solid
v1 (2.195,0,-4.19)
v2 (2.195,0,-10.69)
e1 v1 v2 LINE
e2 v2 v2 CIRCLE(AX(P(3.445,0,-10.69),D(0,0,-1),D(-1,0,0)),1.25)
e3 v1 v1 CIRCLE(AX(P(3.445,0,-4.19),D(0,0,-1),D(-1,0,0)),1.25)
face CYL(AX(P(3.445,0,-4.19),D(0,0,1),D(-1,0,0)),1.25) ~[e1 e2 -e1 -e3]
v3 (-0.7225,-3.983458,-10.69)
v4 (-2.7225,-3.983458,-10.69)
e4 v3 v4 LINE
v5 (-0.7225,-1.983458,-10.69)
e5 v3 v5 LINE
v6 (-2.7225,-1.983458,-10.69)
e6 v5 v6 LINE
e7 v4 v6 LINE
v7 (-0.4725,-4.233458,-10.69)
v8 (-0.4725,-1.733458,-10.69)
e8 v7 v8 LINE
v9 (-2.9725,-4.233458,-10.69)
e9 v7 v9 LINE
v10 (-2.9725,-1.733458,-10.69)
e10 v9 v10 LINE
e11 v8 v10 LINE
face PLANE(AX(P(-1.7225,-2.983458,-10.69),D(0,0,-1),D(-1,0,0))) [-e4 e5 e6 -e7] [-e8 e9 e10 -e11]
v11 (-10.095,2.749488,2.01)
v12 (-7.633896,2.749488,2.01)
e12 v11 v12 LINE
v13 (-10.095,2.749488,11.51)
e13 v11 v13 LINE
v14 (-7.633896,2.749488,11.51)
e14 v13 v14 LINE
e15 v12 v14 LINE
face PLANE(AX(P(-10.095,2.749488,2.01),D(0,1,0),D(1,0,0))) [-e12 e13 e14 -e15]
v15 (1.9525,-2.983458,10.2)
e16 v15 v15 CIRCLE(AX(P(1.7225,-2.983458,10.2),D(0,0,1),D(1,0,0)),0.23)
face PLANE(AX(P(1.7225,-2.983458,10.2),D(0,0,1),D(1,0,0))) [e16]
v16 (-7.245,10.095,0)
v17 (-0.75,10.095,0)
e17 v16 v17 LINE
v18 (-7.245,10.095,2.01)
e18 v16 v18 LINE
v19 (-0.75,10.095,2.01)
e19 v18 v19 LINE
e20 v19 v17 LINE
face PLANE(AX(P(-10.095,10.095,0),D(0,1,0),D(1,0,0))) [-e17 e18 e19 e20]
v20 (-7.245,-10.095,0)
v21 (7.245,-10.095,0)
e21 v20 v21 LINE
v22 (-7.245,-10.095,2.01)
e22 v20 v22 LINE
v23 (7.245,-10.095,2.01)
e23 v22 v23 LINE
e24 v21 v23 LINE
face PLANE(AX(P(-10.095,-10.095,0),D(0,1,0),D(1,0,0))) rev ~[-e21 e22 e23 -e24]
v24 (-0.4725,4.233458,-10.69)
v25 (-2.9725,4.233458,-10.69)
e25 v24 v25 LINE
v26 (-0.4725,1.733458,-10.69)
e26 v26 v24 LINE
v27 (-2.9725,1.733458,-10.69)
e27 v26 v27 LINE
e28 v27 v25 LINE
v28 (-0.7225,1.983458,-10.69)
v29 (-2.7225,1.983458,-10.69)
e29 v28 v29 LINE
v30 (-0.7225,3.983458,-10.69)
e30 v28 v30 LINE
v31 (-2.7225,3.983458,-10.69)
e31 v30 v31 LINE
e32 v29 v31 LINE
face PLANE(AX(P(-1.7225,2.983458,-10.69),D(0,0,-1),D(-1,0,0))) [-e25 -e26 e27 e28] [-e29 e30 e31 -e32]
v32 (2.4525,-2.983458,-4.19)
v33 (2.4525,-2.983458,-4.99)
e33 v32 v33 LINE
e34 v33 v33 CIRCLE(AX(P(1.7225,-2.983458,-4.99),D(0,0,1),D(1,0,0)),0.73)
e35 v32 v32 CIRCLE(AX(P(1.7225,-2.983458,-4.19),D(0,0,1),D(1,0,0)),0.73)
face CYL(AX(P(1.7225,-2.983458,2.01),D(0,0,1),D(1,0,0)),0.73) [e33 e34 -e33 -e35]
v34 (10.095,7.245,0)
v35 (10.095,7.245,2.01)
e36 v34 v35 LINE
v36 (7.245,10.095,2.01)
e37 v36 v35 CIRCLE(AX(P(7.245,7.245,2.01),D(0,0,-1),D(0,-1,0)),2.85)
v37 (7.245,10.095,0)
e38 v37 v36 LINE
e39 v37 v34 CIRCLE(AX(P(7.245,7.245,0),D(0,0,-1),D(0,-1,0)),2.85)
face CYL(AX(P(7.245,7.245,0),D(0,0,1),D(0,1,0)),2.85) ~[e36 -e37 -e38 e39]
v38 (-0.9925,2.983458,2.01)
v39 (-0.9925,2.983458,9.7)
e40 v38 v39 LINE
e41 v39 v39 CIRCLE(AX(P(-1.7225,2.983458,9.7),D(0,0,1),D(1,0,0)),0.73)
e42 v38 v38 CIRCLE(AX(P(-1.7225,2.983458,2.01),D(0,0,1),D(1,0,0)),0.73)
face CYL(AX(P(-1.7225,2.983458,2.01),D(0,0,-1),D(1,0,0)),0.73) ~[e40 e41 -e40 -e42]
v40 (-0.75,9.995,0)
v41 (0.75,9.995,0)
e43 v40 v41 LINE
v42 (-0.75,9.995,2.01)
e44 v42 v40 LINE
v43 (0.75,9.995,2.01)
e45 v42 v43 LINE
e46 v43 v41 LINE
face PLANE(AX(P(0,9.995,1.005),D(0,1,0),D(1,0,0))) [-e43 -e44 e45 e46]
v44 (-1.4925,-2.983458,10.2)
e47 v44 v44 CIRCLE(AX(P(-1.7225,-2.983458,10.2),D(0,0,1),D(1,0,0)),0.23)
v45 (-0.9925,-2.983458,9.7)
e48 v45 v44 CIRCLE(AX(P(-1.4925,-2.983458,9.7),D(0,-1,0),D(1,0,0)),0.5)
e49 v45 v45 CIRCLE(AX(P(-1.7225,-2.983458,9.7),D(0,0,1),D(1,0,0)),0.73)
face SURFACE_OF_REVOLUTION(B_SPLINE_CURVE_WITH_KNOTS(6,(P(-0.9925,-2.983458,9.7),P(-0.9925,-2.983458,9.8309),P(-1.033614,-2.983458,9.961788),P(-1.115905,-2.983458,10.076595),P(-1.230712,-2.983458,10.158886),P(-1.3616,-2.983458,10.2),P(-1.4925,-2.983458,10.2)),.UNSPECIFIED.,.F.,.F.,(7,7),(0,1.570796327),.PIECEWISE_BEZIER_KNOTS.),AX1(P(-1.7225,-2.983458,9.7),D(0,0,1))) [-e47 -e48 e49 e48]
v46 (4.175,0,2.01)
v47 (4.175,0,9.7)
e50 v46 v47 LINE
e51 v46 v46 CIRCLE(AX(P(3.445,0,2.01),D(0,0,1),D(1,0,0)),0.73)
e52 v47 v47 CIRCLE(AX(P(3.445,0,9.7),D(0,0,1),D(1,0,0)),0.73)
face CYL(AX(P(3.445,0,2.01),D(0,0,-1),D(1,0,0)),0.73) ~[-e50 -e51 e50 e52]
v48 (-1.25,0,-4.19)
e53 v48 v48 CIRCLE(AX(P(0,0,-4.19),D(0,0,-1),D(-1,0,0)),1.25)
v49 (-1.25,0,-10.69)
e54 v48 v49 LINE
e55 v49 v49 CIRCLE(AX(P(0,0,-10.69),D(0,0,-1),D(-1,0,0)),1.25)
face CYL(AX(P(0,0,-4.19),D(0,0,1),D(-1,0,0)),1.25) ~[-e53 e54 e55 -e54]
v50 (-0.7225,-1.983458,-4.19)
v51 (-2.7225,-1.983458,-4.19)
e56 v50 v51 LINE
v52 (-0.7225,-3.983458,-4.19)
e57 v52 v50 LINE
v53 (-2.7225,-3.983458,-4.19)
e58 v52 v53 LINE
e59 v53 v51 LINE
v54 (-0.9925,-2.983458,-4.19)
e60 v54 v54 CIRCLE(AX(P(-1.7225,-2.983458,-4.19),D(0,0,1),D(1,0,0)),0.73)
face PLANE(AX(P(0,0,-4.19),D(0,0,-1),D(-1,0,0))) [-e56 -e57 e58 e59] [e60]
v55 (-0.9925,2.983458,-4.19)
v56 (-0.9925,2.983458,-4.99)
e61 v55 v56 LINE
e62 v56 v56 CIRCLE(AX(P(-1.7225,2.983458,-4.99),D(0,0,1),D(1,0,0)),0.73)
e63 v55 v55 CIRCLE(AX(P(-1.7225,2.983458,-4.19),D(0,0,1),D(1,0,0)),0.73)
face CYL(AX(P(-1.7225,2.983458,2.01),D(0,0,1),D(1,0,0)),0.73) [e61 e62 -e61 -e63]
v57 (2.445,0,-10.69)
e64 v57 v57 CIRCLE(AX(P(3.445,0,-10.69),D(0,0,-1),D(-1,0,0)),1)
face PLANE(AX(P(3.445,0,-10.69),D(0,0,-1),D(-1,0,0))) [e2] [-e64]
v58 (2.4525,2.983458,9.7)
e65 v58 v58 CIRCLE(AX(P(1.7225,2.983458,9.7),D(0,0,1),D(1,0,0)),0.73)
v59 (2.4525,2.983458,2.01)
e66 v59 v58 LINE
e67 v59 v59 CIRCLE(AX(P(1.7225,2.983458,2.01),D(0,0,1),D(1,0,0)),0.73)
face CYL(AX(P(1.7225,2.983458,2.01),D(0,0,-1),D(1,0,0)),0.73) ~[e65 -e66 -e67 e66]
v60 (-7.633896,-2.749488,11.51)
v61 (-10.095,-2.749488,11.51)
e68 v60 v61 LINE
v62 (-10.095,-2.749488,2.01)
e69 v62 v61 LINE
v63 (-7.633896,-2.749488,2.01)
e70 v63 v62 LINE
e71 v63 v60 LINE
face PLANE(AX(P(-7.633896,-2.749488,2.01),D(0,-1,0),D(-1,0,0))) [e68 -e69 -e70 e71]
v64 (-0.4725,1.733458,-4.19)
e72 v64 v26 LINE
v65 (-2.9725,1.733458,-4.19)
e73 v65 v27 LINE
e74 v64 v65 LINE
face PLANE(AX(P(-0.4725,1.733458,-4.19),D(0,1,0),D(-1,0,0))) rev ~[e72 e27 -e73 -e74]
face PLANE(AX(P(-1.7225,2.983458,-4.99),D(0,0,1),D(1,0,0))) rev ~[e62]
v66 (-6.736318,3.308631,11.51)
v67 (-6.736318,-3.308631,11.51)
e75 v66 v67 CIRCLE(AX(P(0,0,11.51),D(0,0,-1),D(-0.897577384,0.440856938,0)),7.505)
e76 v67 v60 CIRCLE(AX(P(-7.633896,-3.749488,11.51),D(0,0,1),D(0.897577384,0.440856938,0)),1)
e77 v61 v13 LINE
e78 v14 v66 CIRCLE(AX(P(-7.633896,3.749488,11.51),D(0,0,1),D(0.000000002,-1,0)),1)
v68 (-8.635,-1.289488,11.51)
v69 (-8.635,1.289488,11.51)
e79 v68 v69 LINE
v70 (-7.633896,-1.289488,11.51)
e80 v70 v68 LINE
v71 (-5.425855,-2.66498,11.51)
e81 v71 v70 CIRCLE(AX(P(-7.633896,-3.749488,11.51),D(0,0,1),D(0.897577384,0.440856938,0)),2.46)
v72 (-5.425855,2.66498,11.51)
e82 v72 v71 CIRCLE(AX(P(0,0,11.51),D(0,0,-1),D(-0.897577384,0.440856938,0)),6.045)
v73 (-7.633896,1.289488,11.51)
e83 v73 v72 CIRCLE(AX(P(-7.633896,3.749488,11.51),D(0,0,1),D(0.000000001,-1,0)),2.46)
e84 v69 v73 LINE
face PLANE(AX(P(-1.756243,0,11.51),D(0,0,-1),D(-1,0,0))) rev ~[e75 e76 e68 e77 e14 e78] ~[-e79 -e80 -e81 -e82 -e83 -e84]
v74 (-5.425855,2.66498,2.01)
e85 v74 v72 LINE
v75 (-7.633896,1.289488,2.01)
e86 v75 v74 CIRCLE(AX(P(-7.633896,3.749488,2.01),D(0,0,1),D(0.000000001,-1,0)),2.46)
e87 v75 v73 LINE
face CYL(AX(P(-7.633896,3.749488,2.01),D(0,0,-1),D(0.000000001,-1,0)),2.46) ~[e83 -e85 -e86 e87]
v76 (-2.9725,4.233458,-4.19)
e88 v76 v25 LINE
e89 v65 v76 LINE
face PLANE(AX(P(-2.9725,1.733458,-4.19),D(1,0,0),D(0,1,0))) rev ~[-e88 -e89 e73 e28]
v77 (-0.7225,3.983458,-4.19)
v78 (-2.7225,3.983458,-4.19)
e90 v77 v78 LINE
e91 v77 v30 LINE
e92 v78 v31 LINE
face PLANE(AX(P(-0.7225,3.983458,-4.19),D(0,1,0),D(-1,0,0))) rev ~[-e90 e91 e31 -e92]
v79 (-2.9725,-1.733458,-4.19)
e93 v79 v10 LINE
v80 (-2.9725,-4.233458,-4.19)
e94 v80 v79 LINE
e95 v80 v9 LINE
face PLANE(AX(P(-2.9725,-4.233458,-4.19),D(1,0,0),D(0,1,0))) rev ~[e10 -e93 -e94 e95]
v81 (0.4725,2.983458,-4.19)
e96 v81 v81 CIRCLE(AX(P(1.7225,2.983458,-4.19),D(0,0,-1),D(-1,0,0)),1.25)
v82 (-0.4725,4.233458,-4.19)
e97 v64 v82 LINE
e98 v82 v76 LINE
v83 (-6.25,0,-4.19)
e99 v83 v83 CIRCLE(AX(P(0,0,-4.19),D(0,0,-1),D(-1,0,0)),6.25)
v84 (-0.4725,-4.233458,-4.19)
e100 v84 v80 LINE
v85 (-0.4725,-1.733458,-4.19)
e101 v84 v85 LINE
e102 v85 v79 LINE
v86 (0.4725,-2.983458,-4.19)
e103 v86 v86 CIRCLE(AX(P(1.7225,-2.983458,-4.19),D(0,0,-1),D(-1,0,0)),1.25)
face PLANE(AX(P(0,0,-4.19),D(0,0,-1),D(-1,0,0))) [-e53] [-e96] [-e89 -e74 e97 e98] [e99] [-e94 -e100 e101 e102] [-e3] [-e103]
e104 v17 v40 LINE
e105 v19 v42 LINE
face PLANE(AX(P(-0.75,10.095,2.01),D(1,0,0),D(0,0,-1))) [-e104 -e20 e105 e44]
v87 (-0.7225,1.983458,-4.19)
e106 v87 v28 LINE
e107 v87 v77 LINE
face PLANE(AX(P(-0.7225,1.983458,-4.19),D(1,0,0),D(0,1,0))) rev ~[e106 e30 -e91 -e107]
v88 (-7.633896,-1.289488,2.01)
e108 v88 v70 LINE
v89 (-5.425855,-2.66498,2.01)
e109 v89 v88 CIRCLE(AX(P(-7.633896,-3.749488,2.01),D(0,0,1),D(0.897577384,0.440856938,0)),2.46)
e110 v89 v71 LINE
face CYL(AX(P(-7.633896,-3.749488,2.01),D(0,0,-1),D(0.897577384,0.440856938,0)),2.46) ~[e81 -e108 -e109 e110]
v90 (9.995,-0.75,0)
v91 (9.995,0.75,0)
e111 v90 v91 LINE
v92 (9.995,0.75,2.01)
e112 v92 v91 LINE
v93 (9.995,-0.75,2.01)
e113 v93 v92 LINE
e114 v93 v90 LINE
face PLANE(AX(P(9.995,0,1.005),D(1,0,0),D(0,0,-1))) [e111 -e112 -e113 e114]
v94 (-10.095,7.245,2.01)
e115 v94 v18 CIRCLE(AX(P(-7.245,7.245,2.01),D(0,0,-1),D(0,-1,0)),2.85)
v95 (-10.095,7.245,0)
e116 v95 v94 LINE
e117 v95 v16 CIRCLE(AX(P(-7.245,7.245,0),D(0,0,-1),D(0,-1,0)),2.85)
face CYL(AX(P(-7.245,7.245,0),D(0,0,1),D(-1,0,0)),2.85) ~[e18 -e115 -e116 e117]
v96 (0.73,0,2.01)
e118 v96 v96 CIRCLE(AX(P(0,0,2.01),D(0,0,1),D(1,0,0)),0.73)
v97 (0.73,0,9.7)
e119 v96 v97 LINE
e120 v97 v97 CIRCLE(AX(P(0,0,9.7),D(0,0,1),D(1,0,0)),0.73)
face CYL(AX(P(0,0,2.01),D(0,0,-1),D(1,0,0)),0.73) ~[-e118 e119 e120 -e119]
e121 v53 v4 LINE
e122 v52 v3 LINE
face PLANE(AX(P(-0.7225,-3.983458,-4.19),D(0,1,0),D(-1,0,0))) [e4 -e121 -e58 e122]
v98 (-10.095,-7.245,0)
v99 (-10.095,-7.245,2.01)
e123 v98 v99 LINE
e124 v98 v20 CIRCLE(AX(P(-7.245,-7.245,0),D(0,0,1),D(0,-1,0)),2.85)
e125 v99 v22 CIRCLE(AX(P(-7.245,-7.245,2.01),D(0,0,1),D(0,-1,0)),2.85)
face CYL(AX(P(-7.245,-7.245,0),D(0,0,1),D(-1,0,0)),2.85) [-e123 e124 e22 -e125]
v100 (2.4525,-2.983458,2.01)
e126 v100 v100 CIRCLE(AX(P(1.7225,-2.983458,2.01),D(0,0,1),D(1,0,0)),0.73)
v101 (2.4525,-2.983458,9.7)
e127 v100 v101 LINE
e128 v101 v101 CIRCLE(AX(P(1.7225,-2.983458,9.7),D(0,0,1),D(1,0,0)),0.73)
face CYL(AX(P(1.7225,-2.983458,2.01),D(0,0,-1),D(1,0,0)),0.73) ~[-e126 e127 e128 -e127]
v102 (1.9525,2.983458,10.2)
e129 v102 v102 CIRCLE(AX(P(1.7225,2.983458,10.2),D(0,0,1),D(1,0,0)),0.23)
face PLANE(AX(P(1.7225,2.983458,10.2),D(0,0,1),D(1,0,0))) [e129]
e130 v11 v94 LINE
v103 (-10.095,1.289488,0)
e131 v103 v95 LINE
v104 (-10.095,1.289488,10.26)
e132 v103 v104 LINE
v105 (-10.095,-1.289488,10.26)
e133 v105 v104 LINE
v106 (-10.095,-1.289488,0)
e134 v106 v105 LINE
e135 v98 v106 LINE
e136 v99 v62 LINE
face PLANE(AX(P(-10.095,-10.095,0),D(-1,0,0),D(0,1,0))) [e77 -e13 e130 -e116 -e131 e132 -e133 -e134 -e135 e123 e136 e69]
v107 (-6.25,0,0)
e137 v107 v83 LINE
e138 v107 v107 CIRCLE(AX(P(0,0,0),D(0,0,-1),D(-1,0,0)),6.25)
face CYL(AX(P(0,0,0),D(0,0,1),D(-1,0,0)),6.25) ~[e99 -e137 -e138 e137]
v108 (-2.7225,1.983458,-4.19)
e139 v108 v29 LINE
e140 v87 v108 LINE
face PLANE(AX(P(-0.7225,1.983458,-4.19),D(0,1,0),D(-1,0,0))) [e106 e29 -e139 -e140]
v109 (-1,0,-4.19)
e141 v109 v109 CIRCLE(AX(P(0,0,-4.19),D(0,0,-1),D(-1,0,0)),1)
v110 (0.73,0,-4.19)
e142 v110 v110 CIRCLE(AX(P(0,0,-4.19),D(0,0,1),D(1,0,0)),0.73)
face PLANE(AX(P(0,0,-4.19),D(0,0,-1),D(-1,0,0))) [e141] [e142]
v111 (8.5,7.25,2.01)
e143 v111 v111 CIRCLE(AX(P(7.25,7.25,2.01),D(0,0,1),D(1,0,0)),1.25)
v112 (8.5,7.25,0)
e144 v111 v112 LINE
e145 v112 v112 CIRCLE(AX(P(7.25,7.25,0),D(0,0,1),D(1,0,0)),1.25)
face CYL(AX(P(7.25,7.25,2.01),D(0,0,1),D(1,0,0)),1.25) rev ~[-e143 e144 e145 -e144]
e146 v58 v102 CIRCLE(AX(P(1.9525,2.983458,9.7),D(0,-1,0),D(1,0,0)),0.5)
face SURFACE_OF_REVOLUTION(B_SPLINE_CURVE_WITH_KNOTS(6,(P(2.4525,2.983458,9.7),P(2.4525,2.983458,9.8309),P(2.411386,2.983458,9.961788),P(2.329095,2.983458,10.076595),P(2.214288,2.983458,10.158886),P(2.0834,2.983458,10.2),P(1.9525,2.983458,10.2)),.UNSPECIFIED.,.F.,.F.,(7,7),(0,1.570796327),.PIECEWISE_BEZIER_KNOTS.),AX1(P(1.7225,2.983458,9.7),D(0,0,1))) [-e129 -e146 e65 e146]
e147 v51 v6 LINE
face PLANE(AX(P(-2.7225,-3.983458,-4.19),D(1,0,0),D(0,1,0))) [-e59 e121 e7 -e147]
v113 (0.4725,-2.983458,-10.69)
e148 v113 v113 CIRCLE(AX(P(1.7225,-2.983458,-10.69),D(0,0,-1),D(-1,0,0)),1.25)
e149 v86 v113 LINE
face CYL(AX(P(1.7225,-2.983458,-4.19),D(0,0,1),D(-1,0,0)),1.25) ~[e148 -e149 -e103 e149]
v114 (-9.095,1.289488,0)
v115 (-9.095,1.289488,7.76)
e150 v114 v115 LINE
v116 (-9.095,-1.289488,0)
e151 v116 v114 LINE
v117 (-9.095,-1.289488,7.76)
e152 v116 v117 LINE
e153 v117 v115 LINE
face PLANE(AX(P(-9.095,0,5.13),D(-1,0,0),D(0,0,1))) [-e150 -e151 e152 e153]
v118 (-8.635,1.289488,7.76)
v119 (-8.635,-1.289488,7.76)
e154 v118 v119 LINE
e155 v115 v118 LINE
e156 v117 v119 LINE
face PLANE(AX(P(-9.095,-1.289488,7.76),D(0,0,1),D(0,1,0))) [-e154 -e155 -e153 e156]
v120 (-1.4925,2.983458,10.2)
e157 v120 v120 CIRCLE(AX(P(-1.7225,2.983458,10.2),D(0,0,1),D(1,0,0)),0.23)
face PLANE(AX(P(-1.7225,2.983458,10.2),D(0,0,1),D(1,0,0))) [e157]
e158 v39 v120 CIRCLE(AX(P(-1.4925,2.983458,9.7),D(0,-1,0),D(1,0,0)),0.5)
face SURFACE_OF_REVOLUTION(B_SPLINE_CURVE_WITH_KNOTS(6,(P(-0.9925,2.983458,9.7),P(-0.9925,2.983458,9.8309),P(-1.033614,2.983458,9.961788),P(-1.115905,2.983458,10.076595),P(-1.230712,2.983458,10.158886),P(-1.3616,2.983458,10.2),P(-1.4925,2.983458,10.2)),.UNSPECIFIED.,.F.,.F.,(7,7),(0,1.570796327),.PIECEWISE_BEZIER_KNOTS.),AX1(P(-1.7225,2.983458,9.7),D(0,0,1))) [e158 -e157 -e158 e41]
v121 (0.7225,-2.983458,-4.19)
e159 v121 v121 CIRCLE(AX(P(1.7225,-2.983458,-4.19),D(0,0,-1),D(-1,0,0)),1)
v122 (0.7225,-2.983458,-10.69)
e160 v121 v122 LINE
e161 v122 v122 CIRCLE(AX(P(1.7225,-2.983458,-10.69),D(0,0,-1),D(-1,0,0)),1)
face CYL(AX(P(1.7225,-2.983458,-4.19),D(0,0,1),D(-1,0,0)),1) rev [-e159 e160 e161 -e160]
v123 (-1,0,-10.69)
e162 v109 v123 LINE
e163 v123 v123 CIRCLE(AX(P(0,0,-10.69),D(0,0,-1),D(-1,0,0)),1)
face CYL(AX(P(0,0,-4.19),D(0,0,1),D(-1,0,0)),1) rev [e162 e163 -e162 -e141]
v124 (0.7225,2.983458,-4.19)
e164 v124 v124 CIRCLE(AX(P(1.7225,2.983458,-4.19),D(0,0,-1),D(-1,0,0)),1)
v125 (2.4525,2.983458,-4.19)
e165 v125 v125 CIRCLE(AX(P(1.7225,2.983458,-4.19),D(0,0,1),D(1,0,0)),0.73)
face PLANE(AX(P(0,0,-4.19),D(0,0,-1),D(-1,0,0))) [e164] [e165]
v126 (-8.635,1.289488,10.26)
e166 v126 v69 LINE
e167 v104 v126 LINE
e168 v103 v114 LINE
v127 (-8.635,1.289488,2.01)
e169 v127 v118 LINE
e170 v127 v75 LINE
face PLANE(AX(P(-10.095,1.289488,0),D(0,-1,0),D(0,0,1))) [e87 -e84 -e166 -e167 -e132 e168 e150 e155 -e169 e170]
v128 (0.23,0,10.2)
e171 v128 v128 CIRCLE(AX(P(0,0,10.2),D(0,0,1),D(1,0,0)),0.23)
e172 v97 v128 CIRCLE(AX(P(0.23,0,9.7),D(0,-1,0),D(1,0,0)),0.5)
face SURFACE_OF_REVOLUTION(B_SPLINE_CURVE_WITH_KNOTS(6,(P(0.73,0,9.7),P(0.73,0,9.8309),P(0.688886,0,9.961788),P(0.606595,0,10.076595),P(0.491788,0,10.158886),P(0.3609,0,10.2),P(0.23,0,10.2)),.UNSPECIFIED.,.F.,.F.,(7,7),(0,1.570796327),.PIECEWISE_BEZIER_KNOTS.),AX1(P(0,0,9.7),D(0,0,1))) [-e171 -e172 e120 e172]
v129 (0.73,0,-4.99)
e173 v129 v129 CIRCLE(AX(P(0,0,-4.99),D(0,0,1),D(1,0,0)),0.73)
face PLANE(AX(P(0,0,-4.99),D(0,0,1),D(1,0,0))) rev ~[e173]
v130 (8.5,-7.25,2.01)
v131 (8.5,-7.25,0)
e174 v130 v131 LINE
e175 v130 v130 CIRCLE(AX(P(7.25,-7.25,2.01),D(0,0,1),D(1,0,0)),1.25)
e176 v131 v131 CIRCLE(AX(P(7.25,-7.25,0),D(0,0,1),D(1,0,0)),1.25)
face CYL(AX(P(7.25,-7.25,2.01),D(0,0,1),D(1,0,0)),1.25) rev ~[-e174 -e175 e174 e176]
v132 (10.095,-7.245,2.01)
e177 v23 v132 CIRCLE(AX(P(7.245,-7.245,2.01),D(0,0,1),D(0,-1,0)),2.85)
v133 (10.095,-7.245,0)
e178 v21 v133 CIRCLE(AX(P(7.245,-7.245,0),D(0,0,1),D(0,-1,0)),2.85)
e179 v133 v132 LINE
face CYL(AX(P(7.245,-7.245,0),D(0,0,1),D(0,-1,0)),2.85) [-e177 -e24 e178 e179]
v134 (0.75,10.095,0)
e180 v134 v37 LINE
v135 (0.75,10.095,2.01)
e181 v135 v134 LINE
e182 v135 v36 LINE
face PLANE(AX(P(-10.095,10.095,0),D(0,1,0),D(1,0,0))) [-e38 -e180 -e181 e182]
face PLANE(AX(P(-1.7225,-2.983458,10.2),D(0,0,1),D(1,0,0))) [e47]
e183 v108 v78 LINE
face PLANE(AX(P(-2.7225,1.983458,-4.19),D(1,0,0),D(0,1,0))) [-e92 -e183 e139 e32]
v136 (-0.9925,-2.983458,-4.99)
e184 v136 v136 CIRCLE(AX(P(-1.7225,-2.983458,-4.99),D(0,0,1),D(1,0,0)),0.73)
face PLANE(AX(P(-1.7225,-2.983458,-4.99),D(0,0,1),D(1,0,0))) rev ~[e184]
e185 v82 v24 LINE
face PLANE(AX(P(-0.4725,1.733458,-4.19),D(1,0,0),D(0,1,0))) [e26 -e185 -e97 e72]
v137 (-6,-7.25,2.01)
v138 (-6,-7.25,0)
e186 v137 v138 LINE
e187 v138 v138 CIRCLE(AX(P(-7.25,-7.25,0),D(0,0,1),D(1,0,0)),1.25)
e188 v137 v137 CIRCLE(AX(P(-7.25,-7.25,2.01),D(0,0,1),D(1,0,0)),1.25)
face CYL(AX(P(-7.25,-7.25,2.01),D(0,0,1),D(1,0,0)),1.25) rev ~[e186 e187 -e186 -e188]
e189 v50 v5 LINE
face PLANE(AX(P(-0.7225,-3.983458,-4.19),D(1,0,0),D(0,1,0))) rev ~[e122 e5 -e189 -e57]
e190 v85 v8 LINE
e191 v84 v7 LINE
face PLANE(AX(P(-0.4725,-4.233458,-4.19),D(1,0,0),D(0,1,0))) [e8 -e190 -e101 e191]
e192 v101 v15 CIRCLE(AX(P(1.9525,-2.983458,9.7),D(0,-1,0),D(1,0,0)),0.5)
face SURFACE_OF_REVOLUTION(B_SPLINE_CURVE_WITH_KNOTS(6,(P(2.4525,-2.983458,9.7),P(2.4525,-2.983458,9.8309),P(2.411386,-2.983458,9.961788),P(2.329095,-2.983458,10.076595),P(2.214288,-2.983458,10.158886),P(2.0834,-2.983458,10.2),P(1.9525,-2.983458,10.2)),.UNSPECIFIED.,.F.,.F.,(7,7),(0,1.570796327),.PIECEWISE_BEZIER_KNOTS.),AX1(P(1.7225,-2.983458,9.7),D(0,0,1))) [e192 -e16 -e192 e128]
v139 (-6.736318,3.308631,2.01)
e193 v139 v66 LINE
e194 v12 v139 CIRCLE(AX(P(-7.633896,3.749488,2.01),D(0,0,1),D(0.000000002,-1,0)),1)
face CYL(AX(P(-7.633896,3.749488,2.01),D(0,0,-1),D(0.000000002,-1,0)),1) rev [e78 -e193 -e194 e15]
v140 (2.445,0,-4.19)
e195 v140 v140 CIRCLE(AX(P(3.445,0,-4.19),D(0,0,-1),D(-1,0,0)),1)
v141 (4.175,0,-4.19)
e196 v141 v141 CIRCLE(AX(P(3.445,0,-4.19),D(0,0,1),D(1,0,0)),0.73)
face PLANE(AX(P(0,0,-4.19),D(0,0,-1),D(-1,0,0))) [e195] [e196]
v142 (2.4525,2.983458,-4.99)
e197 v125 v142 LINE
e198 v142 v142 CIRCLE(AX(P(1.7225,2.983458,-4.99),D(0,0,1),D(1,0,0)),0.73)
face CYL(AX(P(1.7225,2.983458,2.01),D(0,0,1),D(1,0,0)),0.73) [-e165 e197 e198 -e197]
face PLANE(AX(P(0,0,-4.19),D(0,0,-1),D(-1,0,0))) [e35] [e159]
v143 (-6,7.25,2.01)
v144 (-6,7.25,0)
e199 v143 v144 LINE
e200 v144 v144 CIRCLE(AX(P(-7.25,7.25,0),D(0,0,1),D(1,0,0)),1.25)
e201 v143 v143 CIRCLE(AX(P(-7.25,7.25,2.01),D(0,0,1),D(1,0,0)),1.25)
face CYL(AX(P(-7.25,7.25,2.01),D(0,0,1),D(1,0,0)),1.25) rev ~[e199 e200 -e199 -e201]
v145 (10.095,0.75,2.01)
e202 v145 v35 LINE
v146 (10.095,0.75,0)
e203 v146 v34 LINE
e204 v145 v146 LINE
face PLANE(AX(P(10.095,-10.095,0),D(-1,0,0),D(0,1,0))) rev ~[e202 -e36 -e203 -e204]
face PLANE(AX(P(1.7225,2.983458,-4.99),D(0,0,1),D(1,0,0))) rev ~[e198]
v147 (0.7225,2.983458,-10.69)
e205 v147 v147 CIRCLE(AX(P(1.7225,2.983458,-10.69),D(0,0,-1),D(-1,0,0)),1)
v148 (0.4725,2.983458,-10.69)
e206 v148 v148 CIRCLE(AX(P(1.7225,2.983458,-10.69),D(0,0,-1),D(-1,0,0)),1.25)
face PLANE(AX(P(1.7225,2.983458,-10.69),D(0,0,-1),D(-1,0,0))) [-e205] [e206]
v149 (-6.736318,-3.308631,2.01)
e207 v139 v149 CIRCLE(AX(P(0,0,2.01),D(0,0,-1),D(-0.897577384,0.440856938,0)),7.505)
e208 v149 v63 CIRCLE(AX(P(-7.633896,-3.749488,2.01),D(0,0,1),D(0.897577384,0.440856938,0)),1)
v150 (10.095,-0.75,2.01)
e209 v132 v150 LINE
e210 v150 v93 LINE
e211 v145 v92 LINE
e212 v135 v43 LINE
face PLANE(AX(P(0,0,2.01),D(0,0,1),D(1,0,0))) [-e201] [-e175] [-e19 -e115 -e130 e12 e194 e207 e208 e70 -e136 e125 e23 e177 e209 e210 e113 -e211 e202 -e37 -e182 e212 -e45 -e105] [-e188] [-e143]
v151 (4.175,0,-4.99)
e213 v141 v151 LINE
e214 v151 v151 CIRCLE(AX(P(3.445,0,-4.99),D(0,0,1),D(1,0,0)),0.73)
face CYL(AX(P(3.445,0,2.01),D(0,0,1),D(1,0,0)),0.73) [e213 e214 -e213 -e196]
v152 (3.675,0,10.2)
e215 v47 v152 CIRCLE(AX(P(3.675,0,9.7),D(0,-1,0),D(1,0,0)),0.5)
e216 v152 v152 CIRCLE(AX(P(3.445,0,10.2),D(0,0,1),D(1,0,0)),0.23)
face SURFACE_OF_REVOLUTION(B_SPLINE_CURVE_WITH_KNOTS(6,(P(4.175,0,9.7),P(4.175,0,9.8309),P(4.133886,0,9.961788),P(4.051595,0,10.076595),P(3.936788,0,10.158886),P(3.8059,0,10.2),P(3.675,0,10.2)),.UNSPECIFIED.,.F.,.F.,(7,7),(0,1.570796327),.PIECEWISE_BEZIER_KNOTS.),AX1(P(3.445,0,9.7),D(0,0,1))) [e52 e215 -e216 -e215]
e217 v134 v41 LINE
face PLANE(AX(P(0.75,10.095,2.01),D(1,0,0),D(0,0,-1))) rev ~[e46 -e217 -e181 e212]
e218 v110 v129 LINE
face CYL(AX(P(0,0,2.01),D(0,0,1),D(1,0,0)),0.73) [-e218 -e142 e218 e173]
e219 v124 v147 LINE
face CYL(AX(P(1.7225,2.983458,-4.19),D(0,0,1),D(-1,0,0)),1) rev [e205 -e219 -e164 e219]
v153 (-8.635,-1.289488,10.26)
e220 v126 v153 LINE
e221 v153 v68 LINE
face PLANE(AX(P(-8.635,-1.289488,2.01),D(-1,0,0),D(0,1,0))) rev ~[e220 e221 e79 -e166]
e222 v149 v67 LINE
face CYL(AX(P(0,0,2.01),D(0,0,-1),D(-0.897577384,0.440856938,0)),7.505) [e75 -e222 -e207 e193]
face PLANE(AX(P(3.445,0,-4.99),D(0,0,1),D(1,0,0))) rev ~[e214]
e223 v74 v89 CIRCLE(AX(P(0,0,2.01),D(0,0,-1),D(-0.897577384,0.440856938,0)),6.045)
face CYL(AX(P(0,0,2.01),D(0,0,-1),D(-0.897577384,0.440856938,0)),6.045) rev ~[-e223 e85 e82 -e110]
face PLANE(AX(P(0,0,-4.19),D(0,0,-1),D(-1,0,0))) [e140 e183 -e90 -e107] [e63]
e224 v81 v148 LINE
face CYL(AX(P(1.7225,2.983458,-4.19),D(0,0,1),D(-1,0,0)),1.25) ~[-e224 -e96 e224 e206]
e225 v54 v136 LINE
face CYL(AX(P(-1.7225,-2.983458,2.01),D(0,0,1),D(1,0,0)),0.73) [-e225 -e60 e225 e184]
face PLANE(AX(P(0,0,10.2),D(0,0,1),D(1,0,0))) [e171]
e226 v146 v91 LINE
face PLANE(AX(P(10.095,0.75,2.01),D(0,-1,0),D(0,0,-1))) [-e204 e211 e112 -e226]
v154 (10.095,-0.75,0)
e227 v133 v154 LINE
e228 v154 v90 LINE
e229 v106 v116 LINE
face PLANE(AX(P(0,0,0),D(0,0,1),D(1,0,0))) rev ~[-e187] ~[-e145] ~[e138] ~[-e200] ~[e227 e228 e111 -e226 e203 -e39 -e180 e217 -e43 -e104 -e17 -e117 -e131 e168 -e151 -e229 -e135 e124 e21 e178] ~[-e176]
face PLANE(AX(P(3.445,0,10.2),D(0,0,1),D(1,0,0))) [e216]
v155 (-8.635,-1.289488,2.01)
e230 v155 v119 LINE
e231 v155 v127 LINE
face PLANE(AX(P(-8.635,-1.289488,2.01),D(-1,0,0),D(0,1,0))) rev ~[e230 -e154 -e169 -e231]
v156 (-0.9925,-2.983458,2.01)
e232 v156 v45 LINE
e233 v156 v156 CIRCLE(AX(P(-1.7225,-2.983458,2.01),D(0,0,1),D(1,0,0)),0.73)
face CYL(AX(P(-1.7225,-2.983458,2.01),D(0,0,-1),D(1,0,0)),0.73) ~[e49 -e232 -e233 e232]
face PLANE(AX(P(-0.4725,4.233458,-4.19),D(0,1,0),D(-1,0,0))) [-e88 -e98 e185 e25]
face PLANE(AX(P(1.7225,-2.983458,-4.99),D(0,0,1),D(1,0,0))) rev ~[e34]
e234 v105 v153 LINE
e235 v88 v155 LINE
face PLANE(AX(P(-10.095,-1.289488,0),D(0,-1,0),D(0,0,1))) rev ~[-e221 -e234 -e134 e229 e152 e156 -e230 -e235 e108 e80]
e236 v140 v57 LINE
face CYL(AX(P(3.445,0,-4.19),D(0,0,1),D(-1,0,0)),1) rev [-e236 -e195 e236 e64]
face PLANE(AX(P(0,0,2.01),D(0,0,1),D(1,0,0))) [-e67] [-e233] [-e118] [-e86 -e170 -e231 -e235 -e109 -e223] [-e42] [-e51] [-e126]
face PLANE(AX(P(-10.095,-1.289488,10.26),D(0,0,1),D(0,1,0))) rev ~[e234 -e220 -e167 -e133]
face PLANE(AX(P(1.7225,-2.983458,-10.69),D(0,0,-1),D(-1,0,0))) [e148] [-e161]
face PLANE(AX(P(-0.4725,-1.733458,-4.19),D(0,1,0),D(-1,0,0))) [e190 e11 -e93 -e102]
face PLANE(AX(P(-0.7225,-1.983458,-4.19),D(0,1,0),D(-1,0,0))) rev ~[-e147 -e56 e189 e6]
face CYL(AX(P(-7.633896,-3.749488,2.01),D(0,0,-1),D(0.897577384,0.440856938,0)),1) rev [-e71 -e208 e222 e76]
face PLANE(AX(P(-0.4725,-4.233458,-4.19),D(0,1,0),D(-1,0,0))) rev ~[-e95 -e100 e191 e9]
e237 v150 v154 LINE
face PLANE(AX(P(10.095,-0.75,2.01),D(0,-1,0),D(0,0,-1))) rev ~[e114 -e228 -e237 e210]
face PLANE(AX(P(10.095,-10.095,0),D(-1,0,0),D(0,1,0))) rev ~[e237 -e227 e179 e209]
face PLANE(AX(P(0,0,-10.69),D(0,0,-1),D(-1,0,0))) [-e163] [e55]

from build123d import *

# Parameters (mm, degrees)
SKETCH1_W                = 20.19
SKETCH1_H                = 20.19
BOSS_EXTRUDE1_DEPTH      = 2.01
SKETCH2_R                = 1.25
CUT_EXTRUDE1_DEPTH       = 2.01
FILLET1_R                = 2.85
BOSS_EXTRUDE2_DEPTH      = 9.5
SKETCH5_W                = 10.26
SKETCH5_H                = 2.578976508
CUT_EXTRUDE2_DEPTH       = 1
CUT_EXTRUDE3_REACH       = 21.19
SKETCH6_W                = 2.5
SKETCH6_H                = 2.578976508
SKETCH7_R                = 6.25
BOSS_EXTRUDE3_DEPTH      = 4.19
SKETCH8_R                = 0.73
BOSS_EXTRUDE4_DEPTH      = 8.19
BOSS_EXTRUDE4_DEPTH_BACK = 7
FILLET2_R                = 0.5
SKETCH9_R                = 1.25
SKETCH9_R_2              = 1
SKETCH9_W                = 2.5
SKETCH9_H                = 2.5
SKETCH9_W_2              = 2
SKETCH9_H_2              = 2
EXTRUDE_THIN1_DEPTH      = 6.5
SKETCH10_W               = 1.5
SKETCH10_H               = 2.01
CUT_EXTRUDE4_DEPTH       = 0.1
SKETCH12_W               = 2.01
SKETCH12_H               = 1.5
CUT_EXTRUDE5_DEPTH       = 0.1


with BuildPart() as part:
    # Sketch1 → Boss-Extrude1 (new body)
    with BuildSketch(Plane.XY):
        Rectangle(SKETCH1_W, SKETCH1_H)
    extrude(amount=BOSS_EXTRUDE1_DEPTH)

    # Sketch2 → Cut-Extrude1 (cut)
    with BuildSketch(Plane.XY.offset(2.01)):
        with Locations((-7.25, 7.25)):
            Circle(SKETCH2_R)
        with Locations((7.25, 7.25)):
            Circle(SKETCH2_R)
        with Locations((7.25, -7.25)):
            Circle(SKETCH2_R)
        with Locations((-7.25, -7.25)):
            Circle(SKETCH2_R)
    extrude(amount=-CUT_EXTRUDE1_DEPTH, mode=Mode.SUBTRACT)

    # Fillet1
    fillet1_edges = [part.edges().sort_by_distance(p)[0] for p in [
        (10.095, -10.095, 1.005),
        (-10.095, -10.095, 1.005),
        (-10.095, 10.095, 1.005),
        (10.095, 10.095, 1.005),
    ]]
    fillet(fillet1_edges, radius=FILLET1_R)

    # Sketch4 → Boss-Extrude2 (add)
    with BuildSketch(Plane.XY.offset(2.01)):
        with BuildLine():
            Line((-10.095, -2.749488254), (-10.095, 2.749488254))
            Line((-10.095, 2.749488254), (-7.633895652, 2.749488254))
            ThreePointArc((-7.633895652, 2.749488254), (-7.10515041, 2.900707677), (-6.736318268, 3.308631317))
            ThreePointArc((-6.736318268, 3.308631317), (7.505, 0), (-6.736318268, -3.308631317))
            ThreePointArc((-6.736318268, -3.308631317), (-7.10515041, -2.900707677), (-7.633895652, -2.749488254))
            Line((-7.633895652, -2.749488254), (-10.095, -2.749488254))
        make_face()
        with BuildLine():
            Line((-8.635, -1.289488254), (-8.635, 1.289488254))
            Line((-8.635, 1.289488254), (-7.633895652, 1.289488254))
            ThreePointArc((-7.633895652, 1.289488254), (-6.333182356, 1.661488034), (-5.425855287, 2.664980188))
            ThreePointArc((-5.425855287, 2.664980188), (6.045, 0), (-5.425855287, -2.664980188))
            ThreePointArc((-5.425855287, -2.664980188), (-6.333182356, -1.661488034), (-7.633895652, -1.289488254))
            Line((-7.633895652, -1.289488254), (-8.635, -1.289488254))
        make_face(mode=Mode.SUBTRACT)
    extrude(amount=BOSS_EXTRUDE2_DEPTH)

    # Sketch5 → Cut-Extrude2 (cut)
    with BuildSketch(Plane.ZY.offset(10.095)):
        with Locations((5.13, 0)):
            Rectangle(SKETCH5_W, SKETCH5_H)
    extrude(amount=-CUT_EXTRUDE2_DEPTH, mode=Mode.SUBTRACT)

    # Sketch6 → Cut-Extrude3 (cut, up to next)
    with BuildSketch(Plane.ZY.offset(9.095), mode=Mode.PRIVATE) as cut_extrude3_sk1:
        with Locations((9.01, 0)):
            Rectangle(SKETCH6_W, SKETCH6_H)
    cut_extrude3_tool1 = extrude(cut_extrude3_sk1.sketch, amount=-CUT_EXTRUDE3_REACH, mode=Mode.PRIVATE) & part.part
    add(cut_extrude3_tool1.solids().sort_by_distance((-9.095, 0, 9.01))[0], mode=Mode.SUBTRACT)

    # Sketch7 → Boss-Extrude3 (add)
    with BuildSketch(Plane(origin=(0, 0, 0), x_dir=(-1, 0, 0), z_dir=(0, 0, -1))):
        Circle(SKETCH7_R)
    extrude(amount=BOSS_EXTRUDE3_DEPTH)

    # Sketch8 → Boss-Extrude4 (add, two sides)
    with BuildSketch(Plane.XY.offset(2.01)) as boss_extrude4_sk:
        Circle(SKETCH8_R)
        with Locations((3.445, 0)):
            Circle(SKETCH8_R)
        with Locations((1.7225, 2.983457516)):
            Circle(SKETCH8_R)
        with Locations((-1.7225, 2.983457516)):
            Circle(SKETCH8_R)
        with Locations((1.7225, -2.983457516)):
            Circle(SKETCH8_R)
        with Locations((-1.7225, -2.983457516)):
            Circle(SKETCH8_R)
    extrude(amount=BOSS_EXTRUDE4_DEPTH)
    extrude(boss_extrude4_sk.sketch, amount=-BOSS_EXTRUDE4_DEPTH_BACK)

    # Fillet2
    fillet2_edges = [part.edges().sort_by_distance(p)[0] for p in [
        (-0.73, 0, 10.2),
        (2.715, 0, 10.2),
        (0.9925, 2.983457516, 10.2),
        (-2.4525, 2.983457516, 10.2),
        (0.9925, -2.983457516, 10.2),
        (-2.4525, -2.983457516, 10.2),
    ]]
    fillet(fillet2_edges, radius=FILLET2_R)

    # Sketch9 → Extrude-Thin1 (add)
    with BuildSketch(Plane(origin=(0, 0, -4.19), x_dir=(-1, 0, 0), z_dir=(0, 0, -1))):
        with Locations((-1.7225, 2.983457516)):
            Circle(SKETCH9_R)
        with Locations((-1.7225, 2.983457516)):
            Circle(SKETCH9_R_2, mode=Mode.SUBTRACT)
        Circle(SKETCH9_R)
        Circle(SKETCH9_R_2, mode=Mode.SUBTRACT)
        with Locations((-3.445, 0)):
            Circle(SKETCH9_R)
        with Locations((-3.445, 0)):
            Circle(SKETCH9_R_2, mode=Mode.SUBTRACT)
        with Locations((-1.7225, -2.983457516)):
            Circle(SKETCH9_R)
        with Locations((-1.7225, -2.983457516)):
            Circle(SKETCH9_R_2, mode=Mode.SUBTRACT)
        with Locations((1.7225, 2.983457516)):
            Rectangle(SKETCH9_W, SKETCH9_H)
        with Locations((1.7225, 2.983457516)):
            Rectangle(SKETCH9_W_2, SKETCH9_H_2, mode=Mode.SUBTRACT)
        with Locations((1.7225, -2.983457516)):
            Rectangle(SKETCH9_W, SKETCH9_H)
        with Locations((1.7225, -2.983457516)):
            Rectangle(SKETCH9_W_2, SKETCH9_H_2, mode=Mode.SUBTRACT)
    extrude(amount=EXTRUDE_THIN1_DEPTH)

    # Sketch10 → Cut-Extrude4 (cut)
    with BuildSketch(Plane(origin=(0, 10.095, 0), x_dir=(1, 0, 0), z_dir=(0, 1, 0))):
        with Locations((0, -1.005)):
            Rectangle(SKETCH10_W, SKETCH10_H)
    extrude(amount=-CUT_EXTRUDE4_DEPTH, mode=Mode.SUBTRACT)

    # Sketch12 → Cut-Extrude5 (cut)
    with BuildSketch(Plane(origin=(10.095, 0, 0), x_dir=(0, 0, -1), z_dir=(1, 0, 0))):
        with Locations((-1.005, 0)):
            Rectangle(SKETCH12_W, SKETCH12_H)
    extrude(amount=-CUT_EXTRUDE5_DEPTH, mode=Mode.SUBTRACT)


solid = part.part
